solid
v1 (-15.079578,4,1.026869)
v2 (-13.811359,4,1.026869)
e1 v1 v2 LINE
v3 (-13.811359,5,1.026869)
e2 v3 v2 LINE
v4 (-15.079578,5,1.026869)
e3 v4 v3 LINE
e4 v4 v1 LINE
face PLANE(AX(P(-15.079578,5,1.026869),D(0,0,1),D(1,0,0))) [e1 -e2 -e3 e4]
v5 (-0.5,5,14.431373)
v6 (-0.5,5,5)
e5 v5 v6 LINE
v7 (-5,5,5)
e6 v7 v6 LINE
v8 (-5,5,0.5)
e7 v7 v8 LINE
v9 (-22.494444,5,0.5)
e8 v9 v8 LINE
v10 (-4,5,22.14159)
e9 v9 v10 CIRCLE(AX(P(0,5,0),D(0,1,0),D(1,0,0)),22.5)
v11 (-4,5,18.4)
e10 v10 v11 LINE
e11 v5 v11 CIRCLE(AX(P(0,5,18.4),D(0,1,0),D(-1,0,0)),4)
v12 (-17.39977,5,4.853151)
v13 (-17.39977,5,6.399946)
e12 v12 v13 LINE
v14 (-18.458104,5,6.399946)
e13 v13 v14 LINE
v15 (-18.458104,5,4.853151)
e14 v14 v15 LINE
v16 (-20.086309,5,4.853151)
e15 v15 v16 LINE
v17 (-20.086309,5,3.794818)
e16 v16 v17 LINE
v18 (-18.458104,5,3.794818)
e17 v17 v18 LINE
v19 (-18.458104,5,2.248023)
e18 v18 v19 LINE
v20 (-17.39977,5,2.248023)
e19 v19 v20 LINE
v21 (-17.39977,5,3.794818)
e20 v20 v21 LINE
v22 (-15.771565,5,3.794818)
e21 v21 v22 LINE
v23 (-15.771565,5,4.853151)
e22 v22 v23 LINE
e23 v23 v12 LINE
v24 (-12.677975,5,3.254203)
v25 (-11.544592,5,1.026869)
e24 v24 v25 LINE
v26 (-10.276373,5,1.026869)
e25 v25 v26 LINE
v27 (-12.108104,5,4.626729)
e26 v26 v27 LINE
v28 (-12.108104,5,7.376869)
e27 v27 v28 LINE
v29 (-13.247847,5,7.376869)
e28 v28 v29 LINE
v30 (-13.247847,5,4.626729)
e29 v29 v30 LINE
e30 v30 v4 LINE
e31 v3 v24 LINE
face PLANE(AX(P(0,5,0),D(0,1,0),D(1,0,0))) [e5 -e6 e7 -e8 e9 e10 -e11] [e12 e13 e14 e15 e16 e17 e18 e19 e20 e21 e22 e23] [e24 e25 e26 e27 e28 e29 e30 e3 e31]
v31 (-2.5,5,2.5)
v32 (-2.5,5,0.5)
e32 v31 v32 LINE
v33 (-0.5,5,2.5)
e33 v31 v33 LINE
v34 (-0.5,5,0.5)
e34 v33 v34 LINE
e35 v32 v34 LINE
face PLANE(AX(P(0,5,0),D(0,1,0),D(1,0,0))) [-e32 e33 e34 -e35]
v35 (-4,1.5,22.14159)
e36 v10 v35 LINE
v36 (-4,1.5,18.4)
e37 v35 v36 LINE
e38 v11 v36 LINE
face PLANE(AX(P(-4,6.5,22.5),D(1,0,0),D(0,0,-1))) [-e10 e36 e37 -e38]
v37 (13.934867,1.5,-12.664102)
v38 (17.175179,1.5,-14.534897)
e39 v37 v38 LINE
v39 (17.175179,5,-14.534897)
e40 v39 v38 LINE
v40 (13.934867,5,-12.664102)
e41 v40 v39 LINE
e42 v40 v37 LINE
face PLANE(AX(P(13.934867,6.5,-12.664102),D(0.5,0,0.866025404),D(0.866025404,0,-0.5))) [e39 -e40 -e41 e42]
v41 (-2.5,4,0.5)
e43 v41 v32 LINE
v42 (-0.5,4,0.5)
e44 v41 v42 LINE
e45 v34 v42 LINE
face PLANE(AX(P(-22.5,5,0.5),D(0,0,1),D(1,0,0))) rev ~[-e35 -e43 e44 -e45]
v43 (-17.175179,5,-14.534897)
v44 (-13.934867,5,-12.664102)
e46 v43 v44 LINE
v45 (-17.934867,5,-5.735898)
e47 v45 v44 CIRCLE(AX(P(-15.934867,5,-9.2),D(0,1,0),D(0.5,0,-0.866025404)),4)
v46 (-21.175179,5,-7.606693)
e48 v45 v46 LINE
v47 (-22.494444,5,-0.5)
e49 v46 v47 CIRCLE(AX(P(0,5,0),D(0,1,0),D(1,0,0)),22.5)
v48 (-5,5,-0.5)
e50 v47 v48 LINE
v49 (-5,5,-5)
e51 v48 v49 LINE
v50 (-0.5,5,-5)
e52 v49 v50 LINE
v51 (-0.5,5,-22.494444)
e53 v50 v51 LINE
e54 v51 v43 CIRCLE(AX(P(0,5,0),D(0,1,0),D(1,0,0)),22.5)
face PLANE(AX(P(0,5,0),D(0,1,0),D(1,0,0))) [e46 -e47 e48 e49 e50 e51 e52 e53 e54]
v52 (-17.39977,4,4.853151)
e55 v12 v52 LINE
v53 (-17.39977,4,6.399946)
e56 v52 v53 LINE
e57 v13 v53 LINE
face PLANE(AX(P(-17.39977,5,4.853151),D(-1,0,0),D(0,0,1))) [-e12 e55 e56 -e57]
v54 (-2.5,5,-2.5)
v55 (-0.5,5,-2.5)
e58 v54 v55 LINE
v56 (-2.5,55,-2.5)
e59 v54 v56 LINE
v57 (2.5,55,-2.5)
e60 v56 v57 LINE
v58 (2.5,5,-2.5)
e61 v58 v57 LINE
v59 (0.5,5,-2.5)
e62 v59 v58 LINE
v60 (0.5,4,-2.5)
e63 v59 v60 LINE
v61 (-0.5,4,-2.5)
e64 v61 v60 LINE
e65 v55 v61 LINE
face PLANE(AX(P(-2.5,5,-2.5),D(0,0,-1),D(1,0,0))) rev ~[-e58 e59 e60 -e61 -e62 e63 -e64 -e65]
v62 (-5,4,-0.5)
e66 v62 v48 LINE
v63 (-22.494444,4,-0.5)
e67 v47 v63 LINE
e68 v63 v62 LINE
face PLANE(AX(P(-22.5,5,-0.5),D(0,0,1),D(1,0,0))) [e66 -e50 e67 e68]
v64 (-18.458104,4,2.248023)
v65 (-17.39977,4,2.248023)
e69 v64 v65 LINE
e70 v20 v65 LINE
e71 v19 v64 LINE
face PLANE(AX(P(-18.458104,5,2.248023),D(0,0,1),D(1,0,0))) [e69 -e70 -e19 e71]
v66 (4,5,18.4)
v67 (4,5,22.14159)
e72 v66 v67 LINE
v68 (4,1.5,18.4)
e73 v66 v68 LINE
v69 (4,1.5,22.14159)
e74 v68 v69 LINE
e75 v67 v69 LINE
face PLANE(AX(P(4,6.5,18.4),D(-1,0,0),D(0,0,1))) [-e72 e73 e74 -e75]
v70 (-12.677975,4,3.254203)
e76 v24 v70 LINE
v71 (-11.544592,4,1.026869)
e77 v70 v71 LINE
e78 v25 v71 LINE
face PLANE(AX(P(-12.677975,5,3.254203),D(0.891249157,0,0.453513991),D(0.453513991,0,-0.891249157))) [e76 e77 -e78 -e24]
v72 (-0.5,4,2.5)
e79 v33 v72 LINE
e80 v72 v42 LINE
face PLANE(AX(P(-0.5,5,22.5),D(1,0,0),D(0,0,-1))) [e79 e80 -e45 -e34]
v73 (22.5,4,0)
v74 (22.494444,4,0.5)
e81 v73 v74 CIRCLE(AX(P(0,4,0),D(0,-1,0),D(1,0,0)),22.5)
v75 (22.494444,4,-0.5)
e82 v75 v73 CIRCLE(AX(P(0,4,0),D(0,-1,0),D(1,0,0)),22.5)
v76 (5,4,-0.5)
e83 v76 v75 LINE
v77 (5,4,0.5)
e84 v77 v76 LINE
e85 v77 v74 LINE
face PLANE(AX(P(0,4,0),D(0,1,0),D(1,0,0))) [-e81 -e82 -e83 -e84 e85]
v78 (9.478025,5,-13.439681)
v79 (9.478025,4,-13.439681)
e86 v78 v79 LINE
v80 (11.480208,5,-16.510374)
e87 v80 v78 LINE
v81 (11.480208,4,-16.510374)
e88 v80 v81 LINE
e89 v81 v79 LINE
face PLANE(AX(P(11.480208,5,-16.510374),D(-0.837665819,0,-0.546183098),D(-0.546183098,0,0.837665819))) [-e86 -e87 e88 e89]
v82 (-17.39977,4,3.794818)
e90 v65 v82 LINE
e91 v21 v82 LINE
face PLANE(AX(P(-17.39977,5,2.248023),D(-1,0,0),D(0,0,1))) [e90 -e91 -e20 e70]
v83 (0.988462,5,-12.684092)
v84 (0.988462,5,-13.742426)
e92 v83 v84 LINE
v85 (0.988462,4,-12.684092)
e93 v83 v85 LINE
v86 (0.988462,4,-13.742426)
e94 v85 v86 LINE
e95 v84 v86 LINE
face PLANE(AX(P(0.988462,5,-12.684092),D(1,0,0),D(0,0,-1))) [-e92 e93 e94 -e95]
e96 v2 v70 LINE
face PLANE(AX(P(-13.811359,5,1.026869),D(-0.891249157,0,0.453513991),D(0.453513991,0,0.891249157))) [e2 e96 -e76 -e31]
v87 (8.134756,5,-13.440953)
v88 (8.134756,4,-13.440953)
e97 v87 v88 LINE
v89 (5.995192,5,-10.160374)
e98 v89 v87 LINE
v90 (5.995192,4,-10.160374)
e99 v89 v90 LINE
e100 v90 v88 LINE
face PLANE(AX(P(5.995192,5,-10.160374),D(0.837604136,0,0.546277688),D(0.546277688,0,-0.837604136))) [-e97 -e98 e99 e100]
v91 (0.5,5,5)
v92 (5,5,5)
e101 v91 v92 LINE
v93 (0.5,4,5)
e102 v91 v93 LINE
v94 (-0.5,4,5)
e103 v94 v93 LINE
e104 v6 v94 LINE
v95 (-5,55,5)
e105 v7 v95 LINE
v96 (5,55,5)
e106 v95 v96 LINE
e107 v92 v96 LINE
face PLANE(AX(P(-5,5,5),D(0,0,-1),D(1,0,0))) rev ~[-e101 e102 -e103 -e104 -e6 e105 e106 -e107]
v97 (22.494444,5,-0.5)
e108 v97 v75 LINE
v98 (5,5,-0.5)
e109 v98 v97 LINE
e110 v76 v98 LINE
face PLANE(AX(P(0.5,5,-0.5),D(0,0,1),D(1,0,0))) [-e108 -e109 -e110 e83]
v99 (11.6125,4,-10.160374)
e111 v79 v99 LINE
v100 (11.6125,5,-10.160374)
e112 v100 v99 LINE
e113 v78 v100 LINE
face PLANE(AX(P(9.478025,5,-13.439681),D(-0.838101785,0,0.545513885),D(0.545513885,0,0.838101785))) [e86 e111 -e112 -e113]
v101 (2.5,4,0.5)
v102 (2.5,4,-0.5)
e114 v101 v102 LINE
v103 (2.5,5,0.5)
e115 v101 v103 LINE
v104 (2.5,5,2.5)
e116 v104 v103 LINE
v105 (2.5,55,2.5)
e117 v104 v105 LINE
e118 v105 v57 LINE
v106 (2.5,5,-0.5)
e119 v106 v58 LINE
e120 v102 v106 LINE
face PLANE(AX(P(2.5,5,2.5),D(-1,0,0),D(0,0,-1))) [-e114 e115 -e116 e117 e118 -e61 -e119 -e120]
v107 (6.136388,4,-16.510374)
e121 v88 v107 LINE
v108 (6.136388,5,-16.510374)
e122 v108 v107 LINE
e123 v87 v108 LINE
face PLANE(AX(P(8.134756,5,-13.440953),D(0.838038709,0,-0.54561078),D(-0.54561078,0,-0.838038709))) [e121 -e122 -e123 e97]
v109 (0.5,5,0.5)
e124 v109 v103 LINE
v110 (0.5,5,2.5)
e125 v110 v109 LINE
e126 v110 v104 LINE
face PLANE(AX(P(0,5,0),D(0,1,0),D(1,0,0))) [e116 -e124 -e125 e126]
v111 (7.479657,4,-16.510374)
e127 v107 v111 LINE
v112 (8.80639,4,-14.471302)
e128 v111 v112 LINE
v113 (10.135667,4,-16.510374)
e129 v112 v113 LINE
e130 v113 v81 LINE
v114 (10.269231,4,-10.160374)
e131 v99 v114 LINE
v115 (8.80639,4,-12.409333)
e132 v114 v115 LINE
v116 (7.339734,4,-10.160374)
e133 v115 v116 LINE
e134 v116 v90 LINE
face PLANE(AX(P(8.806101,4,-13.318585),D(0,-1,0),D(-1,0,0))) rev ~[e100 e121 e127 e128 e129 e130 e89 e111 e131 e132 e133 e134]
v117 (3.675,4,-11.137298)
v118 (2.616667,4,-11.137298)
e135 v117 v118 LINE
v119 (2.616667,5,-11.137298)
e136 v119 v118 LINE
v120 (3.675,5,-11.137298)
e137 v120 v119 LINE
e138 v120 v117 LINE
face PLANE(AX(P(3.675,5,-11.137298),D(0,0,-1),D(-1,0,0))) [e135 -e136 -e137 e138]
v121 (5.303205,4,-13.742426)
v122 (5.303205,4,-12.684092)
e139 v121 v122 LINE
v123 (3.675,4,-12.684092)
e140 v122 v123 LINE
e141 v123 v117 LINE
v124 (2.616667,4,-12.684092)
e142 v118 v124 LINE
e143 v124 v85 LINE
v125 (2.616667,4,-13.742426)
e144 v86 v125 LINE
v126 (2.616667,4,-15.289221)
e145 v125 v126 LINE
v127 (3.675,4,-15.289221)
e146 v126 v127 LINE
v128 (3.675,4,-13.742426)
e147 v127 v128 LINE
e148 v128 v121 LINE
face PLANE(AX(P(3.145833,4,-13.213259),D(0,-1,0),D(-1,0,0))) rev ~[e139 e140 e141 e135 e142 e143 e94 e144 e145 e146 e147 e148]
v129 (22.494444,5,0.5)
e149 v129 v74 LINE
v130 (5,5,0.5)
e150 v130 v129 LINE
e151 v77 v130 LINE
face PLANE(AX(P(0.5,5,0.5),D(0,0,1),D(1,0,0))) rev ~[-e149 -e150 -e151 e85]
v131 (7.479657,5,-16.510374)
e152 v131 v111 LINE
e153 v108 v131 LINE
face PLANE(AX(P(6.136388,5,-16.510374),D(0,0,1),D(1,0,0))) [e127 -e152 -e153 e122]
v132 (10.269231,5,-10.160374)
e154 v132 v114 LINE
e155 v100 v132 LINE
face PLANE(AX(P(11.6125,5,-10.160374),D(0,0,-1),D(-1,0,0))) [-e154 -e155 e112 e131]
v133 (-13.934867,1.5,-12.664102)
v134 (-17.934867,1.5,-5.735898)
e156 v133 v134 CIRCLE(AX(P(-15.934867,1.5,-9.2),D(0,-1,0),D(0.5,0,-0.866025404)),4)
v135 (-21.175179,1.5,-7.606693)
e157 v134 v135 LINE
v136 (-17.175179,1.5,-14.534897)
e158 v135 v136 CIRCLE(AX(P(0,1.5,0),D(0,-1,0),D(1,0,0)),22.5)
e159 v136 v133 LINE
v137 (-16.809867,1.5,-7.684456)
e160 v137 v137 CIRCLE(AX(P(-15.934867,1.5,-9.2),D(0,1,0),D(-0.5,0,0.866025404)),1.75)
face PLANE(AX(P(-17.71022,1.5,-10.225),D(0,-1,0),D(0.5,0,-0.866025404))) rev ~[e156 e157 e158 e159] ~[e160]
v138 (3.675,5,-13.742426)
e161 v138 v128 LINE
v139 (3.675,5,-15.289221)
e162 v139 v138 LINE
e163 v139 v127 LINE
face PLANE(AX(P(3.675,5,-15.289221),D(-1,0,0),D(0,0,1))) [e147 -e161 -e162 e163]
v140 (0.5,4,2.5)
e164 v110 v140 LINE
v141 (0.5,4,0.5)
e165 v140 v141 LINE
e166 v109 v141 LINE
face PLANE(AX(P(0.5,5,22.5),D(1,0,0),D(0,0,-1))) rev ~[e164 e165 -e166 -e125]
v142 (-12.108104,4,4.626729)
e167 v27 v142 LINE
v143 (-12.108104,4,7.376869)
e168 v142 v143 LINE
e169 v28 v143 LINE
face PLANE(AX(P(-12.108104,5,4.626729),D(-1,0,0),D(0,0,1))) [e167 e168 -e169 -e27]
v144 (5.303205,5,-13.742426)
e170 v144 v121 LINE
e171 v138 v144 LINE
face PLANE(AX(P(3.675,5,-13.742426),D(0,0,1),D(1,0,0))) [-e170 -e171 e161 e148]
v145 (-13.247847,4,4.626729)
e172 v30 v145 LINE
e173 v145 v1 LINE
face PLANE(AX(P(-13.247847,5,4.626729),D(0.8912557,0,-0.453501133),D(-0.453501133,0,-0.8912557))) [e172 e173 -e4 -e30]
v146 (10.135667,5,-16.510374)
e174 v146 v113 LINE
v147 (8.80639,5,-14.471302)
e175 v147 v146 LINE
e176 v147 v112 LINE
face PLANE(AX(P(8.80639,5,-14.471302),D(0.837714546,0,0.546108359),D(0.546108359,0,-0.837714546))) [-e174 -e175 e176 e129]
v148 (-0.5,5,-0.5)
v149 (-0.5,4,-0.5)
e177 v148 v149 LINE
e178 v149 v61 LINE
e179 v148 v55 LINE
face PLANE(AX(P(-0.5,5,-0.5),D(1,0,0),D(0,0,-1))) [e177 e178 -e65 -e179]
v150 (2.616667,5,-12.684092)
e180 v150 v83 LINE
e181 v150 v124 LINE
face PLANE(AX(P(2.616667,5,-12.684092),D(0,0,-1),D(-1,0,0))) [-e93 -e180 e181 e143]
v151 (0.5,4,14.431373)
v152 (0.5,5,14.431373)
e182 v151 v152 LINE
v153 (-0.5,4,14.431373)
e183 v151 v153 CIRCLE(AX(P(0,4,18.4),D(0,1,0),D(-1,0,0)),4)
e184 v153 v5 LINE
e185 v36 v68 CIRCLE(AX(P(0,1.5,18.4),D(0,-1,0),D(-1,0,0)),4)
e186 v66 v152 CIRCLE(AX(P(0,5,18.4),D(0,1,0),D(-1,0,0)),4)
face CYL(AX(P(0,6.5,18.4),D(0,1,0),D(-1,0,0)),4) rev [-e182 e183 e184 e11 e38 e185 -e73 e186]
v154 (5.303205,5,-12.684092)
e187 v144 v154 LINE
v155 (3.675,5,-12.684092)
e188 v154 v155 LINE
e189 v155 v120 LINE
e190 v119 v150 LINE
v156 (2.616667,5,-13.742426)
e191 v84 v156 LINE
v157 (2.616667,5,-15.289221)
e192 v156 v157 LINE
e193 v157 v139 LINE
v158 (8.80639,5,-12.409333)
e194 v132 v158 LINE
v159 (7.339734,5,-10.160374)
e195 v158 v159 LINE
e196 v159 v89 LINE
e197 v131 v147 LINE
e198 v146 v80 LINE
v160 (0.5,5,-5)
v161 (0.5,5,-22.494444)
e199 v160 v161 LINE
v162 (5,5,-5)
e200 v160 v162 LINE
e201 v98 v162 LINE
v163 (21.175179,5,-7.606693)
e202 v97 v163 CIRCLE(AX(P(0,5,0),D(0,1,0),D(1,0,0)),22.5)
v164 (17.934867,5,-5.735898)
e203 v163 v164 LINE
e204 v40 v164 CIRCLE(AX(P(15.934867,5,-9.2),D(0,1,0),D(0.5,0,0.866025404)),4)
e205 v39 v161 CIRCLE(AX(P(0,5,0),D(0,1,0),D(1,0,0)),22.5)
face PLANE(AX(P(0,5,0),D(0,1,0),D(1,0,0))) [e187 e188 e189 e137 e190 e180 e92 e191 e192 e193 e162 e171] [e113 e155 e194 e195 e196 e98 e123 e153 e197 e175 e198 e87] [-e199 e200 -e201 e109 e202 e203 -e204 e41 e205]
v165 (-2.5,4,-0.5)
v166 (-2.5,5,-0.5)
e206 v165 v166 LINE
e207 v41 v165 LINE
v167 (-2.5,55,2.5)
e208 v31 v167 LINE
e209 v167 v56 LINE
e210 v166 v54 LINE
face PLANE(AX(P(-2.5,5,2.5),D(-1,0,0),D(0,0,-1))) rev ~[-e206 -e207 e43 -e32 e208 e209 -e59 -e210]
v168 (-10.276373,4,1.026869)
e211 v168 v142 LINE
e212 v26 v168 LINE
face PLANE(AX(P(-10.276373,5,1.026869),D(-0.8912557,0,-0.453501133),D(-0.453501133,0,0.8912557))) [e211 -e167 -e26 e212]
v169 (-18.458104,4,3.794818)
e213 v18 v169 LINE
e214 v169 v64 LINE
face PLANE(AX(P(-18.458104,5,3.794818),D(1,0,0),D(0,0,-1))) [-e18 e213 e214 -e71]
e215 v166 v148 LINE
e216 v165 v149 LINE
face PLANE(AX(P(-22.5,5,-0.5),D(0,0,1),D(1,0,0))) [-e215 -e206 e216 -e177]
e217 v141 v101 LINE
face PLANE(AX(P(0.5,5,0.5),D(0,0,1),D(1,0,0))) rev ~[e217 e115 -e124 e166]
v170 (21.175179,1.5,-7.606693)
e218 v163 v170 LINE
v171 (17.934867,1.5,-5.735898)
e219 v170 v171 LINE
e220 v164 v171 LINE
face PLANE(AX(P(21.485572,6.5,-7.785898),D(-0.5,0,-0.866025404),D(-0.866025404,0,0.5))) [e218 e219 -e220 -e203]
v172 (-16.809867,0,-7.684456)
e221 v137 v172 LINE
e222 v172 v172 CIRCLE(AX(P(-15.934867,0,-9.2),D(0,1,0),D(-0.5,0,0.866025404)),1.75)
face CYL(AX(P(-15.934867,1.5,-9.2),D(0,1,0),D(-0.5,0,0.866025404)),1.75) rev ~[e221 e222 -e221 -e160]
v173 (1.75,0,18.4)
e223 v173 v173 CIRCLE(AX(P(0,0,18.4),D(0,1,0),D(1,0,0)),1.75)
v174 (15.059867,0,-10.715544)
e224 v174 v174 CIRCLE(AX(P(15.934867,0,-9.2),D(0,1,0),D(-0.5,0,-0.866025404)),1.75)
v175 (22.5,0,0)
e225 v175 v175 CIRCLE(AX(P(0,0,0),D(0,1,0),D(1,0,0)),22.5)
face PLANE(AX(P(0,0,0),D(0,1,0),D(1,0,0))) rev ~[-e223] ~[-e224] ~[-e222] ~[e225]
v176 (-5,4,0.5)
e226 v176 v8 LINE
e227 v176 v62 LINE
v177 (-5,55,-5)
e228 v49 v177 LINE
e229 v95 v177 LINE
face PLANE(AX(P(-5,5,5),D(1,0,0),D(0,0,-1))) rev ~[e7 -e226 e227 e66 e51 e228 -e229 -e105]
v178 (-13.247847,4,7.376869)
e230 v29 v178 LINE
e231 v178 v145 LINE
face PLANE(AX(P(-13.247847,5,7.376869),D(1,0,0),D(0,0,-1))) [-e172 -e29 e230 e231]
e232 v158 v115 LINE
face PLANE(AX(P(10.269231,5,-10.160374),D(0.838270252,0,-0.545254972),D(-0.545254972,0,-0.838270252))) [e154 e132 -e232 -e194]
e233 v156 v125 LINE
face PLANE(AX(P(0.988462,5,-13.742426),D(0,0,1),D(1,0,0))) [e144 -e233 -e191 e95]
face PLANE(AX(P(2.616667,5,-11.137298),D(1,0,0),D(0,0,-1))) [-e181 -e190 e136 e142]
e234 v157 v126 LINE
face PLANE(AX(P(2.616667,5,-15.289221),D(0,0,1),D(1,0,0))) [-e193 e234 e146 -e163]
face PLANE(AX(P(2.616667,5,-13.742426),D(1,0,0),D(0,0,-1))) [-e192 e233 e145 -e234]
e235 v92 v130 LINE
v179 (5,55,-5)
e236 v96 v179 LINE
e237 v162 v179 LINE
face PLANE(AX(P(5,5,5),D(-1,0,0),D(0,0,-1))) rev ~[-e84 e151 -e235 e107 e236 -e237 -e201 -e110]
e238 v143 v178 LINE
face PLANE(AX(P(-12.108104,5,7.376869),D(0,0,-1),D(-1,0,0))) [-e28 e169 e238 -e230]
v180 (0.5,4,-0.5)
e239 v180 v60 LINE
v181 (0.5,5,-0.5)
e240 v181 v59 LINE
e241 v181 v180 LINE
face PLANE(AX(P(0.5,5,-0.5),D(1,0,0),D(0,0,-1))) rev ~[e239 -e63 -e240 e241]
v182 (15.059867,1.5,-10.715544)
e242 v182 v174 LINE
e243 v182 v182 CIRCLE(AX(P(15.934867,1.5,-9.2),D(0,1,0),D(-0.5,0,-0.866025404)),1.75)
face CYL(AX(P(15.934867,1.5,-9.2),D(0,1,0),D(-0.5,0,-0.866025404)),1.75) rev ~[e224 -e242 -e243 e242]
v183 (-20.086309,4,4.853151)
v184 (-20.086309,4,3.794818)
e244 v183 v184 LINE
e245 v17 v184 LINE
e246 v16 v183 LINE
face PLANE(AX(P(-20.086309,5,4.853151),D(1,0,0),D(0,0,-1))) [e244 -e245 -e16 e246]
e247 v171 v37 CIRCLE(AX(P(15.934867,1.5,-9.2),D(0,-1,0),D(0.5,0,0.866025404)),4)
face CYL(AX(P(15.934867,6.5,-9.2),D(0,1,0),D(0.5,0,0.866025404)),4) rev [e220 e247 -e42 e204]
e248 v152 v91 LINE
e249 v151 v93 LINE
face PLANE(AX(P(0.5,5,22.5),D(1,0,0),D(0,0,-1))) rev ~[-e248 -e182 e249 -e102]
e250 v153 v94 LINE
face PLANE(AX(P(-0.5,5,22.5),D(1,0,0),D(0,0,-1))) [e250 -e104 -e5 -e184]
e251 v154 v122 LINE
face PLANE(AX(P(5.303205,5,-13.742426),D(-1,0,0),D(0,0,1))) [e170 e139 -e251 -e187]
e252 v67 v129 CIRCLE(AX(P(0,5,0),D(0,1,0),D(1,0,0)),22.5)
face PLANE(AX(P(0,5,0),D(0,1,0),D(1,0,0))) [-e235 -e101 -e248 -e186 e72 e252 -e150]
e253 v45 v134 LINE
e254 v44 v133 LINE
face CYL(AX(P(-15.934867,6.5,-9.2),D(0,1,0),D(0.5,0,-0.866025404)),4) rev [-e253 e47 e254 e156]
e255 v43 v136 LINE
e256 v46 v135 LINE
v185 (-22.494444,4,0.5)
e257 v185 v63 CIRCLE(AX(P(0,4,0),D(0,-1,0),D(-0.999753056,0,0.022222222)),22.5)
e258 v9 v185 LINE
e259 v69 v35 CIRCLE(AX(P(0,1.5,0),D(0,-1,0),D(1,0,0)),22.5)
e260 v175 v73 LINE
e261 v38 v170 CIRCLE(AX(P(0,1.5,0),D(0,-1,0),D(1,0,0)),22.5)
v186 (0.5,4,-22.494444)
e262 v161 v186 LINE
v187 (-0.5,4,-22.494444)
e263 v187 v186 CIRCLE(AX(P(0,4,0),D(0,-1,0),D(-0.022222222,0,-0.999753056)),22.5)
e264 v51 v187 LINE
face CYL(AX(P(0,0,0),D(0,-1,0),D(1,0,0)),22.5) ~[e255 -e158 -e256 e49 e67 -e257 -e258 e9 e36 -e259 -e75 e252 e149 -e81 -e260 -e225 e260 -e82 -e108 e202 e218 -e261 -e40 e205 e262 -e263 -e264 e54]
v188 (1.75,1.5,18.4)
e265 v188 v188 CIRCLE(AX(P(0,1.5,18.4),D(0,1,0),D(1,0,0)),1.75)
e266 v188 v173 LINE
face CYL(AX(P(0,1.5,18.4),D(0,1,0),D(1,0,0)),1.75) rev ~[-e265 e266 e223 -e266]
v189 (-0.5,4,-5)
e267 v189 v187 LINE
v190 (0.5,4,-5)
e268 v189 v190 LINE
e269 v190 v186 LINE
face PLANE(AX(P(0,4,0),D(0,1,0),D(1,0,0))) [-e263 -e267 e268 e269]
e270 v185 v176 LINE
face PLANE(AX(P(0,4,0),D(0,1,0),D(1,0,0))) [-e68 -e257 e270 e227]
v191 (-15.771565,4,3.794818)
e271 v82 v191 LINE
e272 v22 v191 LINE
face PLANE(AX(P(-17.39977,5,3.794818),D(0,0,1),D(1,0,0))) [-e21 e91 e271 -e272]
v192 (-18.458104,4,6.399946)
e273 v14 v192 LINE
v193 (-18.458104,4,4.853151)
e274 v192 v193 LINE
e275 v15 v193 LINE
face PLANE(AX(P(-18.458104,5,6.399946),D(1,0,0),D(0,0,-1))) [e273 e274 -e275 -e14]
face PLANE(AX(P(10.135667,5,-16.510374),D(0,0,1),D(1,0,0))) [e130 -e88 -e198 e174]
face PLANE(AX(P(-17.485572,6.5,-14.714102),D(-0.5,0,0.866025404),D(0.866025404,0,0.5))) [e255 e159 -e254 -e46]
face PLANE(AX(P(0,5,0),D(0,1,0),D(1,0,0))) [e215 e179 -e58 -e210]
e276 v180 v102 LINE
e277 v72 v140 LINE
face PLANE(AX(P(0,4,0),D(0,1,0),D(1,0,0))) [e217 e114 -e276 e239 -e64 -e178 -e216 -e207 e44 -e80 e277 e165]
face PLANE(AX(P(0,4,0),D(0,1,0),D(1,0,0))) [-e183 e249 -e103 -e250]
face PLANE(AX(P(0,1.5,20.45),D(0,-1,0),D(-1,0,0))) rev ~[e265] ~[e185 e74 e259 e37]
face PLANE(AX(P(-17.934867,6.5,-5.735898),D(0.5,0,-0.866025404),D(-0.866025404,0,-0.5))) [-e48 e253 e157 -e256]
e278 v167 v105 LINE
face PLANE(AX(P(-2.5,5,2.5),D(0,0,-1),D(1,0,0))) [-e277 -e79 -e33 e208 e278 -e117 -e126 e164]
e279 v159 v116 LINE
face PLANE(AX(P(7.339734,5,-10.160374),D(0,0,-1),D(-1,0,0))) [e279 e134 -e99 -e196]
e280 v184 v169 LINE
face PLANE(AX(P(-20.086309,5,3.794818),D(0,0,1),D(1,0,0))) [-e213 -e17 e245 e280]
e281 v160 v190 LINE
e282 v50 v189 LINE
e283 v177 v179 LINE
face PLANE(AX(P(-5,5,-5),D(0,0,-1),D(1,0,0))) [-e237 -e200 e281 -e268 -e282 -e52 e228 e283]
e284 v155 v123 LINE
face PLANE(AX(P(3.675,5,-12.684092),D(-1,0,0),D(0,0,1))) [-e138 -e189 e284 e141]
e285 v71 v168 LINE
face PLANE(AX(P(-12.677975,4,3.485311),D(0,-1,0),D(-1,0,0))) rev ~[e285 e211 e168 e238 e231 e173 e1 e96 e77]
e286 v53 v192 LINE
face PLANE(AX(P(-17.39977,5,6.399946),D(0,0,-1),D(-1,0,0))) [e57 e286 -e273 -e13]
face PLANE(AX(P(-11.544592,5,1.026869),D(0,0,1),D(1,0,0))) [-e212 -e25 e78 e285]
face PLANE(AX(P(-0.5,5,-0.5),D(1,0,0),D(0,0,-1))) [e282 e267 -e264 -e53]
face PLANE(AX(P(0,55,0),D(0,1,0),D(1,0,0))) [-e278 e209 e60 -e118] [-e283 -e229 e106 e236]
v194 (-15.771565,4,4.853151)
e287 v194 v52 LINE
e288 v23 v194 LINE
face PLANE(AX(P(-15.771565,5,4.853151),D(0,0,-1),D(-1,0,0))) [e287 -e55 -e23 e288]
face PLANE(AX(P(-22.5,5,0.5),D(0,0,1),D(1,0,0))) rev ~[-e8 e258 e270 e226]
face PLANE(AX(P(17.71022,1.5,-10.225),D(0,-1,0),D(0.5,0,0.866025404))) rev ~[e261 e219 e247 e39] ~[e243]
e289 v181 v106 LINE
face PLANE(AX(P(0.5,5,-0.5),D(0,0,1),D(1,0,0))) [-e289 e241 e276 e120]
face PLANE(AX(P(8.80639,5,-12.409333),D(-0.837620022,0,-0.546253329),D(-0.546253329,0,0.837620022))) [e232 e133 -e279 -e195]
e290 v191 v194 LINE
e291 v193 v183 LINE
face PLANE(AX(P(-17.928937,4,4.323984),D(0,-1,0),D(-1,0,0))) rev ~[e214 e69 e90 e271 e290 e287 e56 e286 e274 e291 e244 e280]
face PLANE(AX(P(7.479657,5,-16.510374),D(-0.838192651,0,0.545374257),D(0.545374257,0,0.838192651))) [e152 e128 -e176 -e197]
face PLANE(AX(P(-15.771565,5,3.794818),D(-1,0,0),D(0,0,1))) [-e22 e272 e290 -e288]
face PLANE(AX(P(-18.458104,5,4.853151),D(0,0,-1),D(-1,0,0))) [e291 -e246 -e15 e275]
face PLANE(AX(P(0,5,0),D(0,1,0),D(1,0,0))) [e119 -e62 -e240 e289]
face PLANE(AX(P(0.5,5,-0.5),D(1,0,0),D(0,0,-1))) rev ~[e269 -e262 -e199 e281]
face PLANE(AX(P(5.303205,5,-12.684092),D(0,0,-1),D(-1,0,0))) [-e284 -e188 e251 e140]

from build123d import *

# Parameters (mm, degrees)
SKETCH1_R                     = 22.5
PLATE_DEPTH                   = 5
OPENING_START                 = 1.5
OPENING_FOR_SCREW_DEPTH       = 5
SKETCH7_R                     = 1.75
SCREW_HOLE_DEPTH              = 5
CIRPATTERN20_COUNT            = 3
SKETCH10_W                    = 45
SKETCH10_H                    = 1
SKETCH10_W_2                  = 1
SKETCH10_H_2                  = 45
CUT_EXTRUDE5_DEPTH            = 1
CUT_EXTRUDE6_DEPTH            = 1
SKETCH12_W                    = 10
SKETCH12_H                    = 10
SKETCH12_W_2                  = 5
SKETCH12_H_2                  = 5
TOOL_CONNECT_PIECE_DEPTH      = 50
TOOL_CONNECT_PIECE_DEPTH_BACK = 1


with BuildPart() as part:
    # Sketch1 → plate (new body)
    with BuildSketch(Plane(origin=(0, 0, 0), x_dir=(1, 0, 0), z_dir=(0, 1, 0))):
        Circle(SKETCH1_R)
    extrude(amount=PLATE_DEPTH)

    # Sketch6 → opening for screw (cut)
    with BuildSketch(Plane(origin=(0, 5, 0), x_dir=(1, 0, 0), z_dir=(0, 1, 0)).offset(OPENING_START)):
        with BuildLine():
            Line((-4, -22.5), (-4, -18.4))
            ThreePointArc((-4, -18.4), (0, -14.4), (4, -18.4))
            Line((4, -18.4), (4, -22.5))
            ThreePointArc((4, -22.5), (0, -26.5), (-4, -22.5))
        make_face()
    opening_for_screw = extrude(amount=-OPENING_FOR_SCREW_DEPTH, mode=Mode.SUBTRACT)

    # Sketch7 → screw hole (cut)
    with BuildSketch(Plane(origin=(0, 1.5, 0), x_dir=(1, 0, 0), z_dir=(0, 1, 0))):
        with Locations((0, -18.4)):
            Circle(SKETCH7_R)
    screw_hole = extrude(amount=-SCREW_HOLE_DEPTH, mode=Mode.SUBTRACT)

    # CirPattern20: opening for screw, screw hole ×3 about axis
    cirpattern20_axis = Axis((0, 0, 0), (0, 1, 0))
    for i in range(1, CIRPATTERN20_COUNT):
        add(opening_for_screw.rotate(cirpattern20_axis, i * 360 / CIRPATTERN20_COUNT), mode=Mode.SUBTRACT)
        add(screw_hole.rotate(cirpattern20_axis, i * 360 / CIRPATTERN20_COUNT), mode=Mode.SUBTRACT)

    # Sketch10 → Cut-Extrude5 (cut)
    with BuildSketch(Plane(origin=(0, 5, 0), x_dir=(1, 0, 0), z_dir=(0, 1, 0))):
        Rectangle(SKETCH10_W, SKETCH10_H)
        Rectangle(SKETCH10_W_2, SKETCH10_H_2)
    extrude(amount=-CUT_EXTRUDE5_DEPTH, mode=Mode.SUBTRACT)

    # Sketch11 → Cut-Extrude6 (cut)
    with BuildSketch(Plane(origin=(0, 5, 0), x_dir=(1, 0, 0), z_dir=(0, 1, 0))):
        Polygon((2.616666667, 13.742425761), (2.616666667, 15.289220632), (3.675, 15.289220632), (3.675, 13.742425761), (5.303205128, 13.742425761), (5.303205128, 12.684092427), (3.675, 12.684092427), (3.675, 11.137297556), (2.616666667, 11.137297556), (2.616666667, 12.684092427), (0.988461538, 12.684092427), (0.988461538, 13.742425761), align=None)
        Polygon((6.136388221, 16.510374479), (7.479657452, 16.510374479), (8.806390224, 14.471301963), (10.135667067, 16.510374479), (11.480208333, 16.510374479), (9.47802484, 13.43968137), (11.6125, 10.160374479), (10.269230769, 10.160374479), (8.806390224, 12.409332812), (7.339733574, 10.160374479), (5.995192308, 10.160374479), (8.134755609, 13.440953405), align=None)
        Polygon((-18.458103671, -3.794817635), (-18.458103671, -2.248022763), (-17.399770338, -2.248022763), (-17.399770338, -3.794817635), (-15.771565209, -3.794817635), (-15.771565209, -4.853150968), (-17.399770338, -4.853150968), (-17.399770338, -6.39994584), (-18.458103671, -6.39994584), (-18.458103671, -4.853150968), (-20.086308799, -4.853150968), (-20.086308799, -3.794817635), align=None)
        Polygon((-15.07957803, -1.026868917), (-13.811358879, -1.026868917), (-12.677975466, -3.254202651), (-11.544592052, -1.026868917), (-10.276372902, -1.026868917), (-12.108103671, -4.626728693), (-12.108103671, -7.376868917), (-13.247847261, -7.376868917), (-13.247847261, -4.626728693), align=None)
    extrude(amount=-CUT_EXTRUDE6_DEPTH, mode=Mode.SUBTRACT)

    # Sketch12 → tool connect piece (add, two sides)
    with BuildSketch(Plane(origin=(0, 5, 0), x_dir=(1, 0, 0), z_dir=(0, 1, 0))) as tool_connect_piece_sk:
        Rectangle(SKETCH12_W, SKETCH12_H)
        Rectangle(SKETCH12_W_2, SKETCH12_H_2, mode=Mode.SUBTRACT)
    extrude(amount=TOOL_CONNECT_PIECE_DEPTH)
    extrude(tool_connect_piece_sk.sketch, amount=-TOOL_CONNECT_PIECE_DEPTH_BACK)


solid = part.part
